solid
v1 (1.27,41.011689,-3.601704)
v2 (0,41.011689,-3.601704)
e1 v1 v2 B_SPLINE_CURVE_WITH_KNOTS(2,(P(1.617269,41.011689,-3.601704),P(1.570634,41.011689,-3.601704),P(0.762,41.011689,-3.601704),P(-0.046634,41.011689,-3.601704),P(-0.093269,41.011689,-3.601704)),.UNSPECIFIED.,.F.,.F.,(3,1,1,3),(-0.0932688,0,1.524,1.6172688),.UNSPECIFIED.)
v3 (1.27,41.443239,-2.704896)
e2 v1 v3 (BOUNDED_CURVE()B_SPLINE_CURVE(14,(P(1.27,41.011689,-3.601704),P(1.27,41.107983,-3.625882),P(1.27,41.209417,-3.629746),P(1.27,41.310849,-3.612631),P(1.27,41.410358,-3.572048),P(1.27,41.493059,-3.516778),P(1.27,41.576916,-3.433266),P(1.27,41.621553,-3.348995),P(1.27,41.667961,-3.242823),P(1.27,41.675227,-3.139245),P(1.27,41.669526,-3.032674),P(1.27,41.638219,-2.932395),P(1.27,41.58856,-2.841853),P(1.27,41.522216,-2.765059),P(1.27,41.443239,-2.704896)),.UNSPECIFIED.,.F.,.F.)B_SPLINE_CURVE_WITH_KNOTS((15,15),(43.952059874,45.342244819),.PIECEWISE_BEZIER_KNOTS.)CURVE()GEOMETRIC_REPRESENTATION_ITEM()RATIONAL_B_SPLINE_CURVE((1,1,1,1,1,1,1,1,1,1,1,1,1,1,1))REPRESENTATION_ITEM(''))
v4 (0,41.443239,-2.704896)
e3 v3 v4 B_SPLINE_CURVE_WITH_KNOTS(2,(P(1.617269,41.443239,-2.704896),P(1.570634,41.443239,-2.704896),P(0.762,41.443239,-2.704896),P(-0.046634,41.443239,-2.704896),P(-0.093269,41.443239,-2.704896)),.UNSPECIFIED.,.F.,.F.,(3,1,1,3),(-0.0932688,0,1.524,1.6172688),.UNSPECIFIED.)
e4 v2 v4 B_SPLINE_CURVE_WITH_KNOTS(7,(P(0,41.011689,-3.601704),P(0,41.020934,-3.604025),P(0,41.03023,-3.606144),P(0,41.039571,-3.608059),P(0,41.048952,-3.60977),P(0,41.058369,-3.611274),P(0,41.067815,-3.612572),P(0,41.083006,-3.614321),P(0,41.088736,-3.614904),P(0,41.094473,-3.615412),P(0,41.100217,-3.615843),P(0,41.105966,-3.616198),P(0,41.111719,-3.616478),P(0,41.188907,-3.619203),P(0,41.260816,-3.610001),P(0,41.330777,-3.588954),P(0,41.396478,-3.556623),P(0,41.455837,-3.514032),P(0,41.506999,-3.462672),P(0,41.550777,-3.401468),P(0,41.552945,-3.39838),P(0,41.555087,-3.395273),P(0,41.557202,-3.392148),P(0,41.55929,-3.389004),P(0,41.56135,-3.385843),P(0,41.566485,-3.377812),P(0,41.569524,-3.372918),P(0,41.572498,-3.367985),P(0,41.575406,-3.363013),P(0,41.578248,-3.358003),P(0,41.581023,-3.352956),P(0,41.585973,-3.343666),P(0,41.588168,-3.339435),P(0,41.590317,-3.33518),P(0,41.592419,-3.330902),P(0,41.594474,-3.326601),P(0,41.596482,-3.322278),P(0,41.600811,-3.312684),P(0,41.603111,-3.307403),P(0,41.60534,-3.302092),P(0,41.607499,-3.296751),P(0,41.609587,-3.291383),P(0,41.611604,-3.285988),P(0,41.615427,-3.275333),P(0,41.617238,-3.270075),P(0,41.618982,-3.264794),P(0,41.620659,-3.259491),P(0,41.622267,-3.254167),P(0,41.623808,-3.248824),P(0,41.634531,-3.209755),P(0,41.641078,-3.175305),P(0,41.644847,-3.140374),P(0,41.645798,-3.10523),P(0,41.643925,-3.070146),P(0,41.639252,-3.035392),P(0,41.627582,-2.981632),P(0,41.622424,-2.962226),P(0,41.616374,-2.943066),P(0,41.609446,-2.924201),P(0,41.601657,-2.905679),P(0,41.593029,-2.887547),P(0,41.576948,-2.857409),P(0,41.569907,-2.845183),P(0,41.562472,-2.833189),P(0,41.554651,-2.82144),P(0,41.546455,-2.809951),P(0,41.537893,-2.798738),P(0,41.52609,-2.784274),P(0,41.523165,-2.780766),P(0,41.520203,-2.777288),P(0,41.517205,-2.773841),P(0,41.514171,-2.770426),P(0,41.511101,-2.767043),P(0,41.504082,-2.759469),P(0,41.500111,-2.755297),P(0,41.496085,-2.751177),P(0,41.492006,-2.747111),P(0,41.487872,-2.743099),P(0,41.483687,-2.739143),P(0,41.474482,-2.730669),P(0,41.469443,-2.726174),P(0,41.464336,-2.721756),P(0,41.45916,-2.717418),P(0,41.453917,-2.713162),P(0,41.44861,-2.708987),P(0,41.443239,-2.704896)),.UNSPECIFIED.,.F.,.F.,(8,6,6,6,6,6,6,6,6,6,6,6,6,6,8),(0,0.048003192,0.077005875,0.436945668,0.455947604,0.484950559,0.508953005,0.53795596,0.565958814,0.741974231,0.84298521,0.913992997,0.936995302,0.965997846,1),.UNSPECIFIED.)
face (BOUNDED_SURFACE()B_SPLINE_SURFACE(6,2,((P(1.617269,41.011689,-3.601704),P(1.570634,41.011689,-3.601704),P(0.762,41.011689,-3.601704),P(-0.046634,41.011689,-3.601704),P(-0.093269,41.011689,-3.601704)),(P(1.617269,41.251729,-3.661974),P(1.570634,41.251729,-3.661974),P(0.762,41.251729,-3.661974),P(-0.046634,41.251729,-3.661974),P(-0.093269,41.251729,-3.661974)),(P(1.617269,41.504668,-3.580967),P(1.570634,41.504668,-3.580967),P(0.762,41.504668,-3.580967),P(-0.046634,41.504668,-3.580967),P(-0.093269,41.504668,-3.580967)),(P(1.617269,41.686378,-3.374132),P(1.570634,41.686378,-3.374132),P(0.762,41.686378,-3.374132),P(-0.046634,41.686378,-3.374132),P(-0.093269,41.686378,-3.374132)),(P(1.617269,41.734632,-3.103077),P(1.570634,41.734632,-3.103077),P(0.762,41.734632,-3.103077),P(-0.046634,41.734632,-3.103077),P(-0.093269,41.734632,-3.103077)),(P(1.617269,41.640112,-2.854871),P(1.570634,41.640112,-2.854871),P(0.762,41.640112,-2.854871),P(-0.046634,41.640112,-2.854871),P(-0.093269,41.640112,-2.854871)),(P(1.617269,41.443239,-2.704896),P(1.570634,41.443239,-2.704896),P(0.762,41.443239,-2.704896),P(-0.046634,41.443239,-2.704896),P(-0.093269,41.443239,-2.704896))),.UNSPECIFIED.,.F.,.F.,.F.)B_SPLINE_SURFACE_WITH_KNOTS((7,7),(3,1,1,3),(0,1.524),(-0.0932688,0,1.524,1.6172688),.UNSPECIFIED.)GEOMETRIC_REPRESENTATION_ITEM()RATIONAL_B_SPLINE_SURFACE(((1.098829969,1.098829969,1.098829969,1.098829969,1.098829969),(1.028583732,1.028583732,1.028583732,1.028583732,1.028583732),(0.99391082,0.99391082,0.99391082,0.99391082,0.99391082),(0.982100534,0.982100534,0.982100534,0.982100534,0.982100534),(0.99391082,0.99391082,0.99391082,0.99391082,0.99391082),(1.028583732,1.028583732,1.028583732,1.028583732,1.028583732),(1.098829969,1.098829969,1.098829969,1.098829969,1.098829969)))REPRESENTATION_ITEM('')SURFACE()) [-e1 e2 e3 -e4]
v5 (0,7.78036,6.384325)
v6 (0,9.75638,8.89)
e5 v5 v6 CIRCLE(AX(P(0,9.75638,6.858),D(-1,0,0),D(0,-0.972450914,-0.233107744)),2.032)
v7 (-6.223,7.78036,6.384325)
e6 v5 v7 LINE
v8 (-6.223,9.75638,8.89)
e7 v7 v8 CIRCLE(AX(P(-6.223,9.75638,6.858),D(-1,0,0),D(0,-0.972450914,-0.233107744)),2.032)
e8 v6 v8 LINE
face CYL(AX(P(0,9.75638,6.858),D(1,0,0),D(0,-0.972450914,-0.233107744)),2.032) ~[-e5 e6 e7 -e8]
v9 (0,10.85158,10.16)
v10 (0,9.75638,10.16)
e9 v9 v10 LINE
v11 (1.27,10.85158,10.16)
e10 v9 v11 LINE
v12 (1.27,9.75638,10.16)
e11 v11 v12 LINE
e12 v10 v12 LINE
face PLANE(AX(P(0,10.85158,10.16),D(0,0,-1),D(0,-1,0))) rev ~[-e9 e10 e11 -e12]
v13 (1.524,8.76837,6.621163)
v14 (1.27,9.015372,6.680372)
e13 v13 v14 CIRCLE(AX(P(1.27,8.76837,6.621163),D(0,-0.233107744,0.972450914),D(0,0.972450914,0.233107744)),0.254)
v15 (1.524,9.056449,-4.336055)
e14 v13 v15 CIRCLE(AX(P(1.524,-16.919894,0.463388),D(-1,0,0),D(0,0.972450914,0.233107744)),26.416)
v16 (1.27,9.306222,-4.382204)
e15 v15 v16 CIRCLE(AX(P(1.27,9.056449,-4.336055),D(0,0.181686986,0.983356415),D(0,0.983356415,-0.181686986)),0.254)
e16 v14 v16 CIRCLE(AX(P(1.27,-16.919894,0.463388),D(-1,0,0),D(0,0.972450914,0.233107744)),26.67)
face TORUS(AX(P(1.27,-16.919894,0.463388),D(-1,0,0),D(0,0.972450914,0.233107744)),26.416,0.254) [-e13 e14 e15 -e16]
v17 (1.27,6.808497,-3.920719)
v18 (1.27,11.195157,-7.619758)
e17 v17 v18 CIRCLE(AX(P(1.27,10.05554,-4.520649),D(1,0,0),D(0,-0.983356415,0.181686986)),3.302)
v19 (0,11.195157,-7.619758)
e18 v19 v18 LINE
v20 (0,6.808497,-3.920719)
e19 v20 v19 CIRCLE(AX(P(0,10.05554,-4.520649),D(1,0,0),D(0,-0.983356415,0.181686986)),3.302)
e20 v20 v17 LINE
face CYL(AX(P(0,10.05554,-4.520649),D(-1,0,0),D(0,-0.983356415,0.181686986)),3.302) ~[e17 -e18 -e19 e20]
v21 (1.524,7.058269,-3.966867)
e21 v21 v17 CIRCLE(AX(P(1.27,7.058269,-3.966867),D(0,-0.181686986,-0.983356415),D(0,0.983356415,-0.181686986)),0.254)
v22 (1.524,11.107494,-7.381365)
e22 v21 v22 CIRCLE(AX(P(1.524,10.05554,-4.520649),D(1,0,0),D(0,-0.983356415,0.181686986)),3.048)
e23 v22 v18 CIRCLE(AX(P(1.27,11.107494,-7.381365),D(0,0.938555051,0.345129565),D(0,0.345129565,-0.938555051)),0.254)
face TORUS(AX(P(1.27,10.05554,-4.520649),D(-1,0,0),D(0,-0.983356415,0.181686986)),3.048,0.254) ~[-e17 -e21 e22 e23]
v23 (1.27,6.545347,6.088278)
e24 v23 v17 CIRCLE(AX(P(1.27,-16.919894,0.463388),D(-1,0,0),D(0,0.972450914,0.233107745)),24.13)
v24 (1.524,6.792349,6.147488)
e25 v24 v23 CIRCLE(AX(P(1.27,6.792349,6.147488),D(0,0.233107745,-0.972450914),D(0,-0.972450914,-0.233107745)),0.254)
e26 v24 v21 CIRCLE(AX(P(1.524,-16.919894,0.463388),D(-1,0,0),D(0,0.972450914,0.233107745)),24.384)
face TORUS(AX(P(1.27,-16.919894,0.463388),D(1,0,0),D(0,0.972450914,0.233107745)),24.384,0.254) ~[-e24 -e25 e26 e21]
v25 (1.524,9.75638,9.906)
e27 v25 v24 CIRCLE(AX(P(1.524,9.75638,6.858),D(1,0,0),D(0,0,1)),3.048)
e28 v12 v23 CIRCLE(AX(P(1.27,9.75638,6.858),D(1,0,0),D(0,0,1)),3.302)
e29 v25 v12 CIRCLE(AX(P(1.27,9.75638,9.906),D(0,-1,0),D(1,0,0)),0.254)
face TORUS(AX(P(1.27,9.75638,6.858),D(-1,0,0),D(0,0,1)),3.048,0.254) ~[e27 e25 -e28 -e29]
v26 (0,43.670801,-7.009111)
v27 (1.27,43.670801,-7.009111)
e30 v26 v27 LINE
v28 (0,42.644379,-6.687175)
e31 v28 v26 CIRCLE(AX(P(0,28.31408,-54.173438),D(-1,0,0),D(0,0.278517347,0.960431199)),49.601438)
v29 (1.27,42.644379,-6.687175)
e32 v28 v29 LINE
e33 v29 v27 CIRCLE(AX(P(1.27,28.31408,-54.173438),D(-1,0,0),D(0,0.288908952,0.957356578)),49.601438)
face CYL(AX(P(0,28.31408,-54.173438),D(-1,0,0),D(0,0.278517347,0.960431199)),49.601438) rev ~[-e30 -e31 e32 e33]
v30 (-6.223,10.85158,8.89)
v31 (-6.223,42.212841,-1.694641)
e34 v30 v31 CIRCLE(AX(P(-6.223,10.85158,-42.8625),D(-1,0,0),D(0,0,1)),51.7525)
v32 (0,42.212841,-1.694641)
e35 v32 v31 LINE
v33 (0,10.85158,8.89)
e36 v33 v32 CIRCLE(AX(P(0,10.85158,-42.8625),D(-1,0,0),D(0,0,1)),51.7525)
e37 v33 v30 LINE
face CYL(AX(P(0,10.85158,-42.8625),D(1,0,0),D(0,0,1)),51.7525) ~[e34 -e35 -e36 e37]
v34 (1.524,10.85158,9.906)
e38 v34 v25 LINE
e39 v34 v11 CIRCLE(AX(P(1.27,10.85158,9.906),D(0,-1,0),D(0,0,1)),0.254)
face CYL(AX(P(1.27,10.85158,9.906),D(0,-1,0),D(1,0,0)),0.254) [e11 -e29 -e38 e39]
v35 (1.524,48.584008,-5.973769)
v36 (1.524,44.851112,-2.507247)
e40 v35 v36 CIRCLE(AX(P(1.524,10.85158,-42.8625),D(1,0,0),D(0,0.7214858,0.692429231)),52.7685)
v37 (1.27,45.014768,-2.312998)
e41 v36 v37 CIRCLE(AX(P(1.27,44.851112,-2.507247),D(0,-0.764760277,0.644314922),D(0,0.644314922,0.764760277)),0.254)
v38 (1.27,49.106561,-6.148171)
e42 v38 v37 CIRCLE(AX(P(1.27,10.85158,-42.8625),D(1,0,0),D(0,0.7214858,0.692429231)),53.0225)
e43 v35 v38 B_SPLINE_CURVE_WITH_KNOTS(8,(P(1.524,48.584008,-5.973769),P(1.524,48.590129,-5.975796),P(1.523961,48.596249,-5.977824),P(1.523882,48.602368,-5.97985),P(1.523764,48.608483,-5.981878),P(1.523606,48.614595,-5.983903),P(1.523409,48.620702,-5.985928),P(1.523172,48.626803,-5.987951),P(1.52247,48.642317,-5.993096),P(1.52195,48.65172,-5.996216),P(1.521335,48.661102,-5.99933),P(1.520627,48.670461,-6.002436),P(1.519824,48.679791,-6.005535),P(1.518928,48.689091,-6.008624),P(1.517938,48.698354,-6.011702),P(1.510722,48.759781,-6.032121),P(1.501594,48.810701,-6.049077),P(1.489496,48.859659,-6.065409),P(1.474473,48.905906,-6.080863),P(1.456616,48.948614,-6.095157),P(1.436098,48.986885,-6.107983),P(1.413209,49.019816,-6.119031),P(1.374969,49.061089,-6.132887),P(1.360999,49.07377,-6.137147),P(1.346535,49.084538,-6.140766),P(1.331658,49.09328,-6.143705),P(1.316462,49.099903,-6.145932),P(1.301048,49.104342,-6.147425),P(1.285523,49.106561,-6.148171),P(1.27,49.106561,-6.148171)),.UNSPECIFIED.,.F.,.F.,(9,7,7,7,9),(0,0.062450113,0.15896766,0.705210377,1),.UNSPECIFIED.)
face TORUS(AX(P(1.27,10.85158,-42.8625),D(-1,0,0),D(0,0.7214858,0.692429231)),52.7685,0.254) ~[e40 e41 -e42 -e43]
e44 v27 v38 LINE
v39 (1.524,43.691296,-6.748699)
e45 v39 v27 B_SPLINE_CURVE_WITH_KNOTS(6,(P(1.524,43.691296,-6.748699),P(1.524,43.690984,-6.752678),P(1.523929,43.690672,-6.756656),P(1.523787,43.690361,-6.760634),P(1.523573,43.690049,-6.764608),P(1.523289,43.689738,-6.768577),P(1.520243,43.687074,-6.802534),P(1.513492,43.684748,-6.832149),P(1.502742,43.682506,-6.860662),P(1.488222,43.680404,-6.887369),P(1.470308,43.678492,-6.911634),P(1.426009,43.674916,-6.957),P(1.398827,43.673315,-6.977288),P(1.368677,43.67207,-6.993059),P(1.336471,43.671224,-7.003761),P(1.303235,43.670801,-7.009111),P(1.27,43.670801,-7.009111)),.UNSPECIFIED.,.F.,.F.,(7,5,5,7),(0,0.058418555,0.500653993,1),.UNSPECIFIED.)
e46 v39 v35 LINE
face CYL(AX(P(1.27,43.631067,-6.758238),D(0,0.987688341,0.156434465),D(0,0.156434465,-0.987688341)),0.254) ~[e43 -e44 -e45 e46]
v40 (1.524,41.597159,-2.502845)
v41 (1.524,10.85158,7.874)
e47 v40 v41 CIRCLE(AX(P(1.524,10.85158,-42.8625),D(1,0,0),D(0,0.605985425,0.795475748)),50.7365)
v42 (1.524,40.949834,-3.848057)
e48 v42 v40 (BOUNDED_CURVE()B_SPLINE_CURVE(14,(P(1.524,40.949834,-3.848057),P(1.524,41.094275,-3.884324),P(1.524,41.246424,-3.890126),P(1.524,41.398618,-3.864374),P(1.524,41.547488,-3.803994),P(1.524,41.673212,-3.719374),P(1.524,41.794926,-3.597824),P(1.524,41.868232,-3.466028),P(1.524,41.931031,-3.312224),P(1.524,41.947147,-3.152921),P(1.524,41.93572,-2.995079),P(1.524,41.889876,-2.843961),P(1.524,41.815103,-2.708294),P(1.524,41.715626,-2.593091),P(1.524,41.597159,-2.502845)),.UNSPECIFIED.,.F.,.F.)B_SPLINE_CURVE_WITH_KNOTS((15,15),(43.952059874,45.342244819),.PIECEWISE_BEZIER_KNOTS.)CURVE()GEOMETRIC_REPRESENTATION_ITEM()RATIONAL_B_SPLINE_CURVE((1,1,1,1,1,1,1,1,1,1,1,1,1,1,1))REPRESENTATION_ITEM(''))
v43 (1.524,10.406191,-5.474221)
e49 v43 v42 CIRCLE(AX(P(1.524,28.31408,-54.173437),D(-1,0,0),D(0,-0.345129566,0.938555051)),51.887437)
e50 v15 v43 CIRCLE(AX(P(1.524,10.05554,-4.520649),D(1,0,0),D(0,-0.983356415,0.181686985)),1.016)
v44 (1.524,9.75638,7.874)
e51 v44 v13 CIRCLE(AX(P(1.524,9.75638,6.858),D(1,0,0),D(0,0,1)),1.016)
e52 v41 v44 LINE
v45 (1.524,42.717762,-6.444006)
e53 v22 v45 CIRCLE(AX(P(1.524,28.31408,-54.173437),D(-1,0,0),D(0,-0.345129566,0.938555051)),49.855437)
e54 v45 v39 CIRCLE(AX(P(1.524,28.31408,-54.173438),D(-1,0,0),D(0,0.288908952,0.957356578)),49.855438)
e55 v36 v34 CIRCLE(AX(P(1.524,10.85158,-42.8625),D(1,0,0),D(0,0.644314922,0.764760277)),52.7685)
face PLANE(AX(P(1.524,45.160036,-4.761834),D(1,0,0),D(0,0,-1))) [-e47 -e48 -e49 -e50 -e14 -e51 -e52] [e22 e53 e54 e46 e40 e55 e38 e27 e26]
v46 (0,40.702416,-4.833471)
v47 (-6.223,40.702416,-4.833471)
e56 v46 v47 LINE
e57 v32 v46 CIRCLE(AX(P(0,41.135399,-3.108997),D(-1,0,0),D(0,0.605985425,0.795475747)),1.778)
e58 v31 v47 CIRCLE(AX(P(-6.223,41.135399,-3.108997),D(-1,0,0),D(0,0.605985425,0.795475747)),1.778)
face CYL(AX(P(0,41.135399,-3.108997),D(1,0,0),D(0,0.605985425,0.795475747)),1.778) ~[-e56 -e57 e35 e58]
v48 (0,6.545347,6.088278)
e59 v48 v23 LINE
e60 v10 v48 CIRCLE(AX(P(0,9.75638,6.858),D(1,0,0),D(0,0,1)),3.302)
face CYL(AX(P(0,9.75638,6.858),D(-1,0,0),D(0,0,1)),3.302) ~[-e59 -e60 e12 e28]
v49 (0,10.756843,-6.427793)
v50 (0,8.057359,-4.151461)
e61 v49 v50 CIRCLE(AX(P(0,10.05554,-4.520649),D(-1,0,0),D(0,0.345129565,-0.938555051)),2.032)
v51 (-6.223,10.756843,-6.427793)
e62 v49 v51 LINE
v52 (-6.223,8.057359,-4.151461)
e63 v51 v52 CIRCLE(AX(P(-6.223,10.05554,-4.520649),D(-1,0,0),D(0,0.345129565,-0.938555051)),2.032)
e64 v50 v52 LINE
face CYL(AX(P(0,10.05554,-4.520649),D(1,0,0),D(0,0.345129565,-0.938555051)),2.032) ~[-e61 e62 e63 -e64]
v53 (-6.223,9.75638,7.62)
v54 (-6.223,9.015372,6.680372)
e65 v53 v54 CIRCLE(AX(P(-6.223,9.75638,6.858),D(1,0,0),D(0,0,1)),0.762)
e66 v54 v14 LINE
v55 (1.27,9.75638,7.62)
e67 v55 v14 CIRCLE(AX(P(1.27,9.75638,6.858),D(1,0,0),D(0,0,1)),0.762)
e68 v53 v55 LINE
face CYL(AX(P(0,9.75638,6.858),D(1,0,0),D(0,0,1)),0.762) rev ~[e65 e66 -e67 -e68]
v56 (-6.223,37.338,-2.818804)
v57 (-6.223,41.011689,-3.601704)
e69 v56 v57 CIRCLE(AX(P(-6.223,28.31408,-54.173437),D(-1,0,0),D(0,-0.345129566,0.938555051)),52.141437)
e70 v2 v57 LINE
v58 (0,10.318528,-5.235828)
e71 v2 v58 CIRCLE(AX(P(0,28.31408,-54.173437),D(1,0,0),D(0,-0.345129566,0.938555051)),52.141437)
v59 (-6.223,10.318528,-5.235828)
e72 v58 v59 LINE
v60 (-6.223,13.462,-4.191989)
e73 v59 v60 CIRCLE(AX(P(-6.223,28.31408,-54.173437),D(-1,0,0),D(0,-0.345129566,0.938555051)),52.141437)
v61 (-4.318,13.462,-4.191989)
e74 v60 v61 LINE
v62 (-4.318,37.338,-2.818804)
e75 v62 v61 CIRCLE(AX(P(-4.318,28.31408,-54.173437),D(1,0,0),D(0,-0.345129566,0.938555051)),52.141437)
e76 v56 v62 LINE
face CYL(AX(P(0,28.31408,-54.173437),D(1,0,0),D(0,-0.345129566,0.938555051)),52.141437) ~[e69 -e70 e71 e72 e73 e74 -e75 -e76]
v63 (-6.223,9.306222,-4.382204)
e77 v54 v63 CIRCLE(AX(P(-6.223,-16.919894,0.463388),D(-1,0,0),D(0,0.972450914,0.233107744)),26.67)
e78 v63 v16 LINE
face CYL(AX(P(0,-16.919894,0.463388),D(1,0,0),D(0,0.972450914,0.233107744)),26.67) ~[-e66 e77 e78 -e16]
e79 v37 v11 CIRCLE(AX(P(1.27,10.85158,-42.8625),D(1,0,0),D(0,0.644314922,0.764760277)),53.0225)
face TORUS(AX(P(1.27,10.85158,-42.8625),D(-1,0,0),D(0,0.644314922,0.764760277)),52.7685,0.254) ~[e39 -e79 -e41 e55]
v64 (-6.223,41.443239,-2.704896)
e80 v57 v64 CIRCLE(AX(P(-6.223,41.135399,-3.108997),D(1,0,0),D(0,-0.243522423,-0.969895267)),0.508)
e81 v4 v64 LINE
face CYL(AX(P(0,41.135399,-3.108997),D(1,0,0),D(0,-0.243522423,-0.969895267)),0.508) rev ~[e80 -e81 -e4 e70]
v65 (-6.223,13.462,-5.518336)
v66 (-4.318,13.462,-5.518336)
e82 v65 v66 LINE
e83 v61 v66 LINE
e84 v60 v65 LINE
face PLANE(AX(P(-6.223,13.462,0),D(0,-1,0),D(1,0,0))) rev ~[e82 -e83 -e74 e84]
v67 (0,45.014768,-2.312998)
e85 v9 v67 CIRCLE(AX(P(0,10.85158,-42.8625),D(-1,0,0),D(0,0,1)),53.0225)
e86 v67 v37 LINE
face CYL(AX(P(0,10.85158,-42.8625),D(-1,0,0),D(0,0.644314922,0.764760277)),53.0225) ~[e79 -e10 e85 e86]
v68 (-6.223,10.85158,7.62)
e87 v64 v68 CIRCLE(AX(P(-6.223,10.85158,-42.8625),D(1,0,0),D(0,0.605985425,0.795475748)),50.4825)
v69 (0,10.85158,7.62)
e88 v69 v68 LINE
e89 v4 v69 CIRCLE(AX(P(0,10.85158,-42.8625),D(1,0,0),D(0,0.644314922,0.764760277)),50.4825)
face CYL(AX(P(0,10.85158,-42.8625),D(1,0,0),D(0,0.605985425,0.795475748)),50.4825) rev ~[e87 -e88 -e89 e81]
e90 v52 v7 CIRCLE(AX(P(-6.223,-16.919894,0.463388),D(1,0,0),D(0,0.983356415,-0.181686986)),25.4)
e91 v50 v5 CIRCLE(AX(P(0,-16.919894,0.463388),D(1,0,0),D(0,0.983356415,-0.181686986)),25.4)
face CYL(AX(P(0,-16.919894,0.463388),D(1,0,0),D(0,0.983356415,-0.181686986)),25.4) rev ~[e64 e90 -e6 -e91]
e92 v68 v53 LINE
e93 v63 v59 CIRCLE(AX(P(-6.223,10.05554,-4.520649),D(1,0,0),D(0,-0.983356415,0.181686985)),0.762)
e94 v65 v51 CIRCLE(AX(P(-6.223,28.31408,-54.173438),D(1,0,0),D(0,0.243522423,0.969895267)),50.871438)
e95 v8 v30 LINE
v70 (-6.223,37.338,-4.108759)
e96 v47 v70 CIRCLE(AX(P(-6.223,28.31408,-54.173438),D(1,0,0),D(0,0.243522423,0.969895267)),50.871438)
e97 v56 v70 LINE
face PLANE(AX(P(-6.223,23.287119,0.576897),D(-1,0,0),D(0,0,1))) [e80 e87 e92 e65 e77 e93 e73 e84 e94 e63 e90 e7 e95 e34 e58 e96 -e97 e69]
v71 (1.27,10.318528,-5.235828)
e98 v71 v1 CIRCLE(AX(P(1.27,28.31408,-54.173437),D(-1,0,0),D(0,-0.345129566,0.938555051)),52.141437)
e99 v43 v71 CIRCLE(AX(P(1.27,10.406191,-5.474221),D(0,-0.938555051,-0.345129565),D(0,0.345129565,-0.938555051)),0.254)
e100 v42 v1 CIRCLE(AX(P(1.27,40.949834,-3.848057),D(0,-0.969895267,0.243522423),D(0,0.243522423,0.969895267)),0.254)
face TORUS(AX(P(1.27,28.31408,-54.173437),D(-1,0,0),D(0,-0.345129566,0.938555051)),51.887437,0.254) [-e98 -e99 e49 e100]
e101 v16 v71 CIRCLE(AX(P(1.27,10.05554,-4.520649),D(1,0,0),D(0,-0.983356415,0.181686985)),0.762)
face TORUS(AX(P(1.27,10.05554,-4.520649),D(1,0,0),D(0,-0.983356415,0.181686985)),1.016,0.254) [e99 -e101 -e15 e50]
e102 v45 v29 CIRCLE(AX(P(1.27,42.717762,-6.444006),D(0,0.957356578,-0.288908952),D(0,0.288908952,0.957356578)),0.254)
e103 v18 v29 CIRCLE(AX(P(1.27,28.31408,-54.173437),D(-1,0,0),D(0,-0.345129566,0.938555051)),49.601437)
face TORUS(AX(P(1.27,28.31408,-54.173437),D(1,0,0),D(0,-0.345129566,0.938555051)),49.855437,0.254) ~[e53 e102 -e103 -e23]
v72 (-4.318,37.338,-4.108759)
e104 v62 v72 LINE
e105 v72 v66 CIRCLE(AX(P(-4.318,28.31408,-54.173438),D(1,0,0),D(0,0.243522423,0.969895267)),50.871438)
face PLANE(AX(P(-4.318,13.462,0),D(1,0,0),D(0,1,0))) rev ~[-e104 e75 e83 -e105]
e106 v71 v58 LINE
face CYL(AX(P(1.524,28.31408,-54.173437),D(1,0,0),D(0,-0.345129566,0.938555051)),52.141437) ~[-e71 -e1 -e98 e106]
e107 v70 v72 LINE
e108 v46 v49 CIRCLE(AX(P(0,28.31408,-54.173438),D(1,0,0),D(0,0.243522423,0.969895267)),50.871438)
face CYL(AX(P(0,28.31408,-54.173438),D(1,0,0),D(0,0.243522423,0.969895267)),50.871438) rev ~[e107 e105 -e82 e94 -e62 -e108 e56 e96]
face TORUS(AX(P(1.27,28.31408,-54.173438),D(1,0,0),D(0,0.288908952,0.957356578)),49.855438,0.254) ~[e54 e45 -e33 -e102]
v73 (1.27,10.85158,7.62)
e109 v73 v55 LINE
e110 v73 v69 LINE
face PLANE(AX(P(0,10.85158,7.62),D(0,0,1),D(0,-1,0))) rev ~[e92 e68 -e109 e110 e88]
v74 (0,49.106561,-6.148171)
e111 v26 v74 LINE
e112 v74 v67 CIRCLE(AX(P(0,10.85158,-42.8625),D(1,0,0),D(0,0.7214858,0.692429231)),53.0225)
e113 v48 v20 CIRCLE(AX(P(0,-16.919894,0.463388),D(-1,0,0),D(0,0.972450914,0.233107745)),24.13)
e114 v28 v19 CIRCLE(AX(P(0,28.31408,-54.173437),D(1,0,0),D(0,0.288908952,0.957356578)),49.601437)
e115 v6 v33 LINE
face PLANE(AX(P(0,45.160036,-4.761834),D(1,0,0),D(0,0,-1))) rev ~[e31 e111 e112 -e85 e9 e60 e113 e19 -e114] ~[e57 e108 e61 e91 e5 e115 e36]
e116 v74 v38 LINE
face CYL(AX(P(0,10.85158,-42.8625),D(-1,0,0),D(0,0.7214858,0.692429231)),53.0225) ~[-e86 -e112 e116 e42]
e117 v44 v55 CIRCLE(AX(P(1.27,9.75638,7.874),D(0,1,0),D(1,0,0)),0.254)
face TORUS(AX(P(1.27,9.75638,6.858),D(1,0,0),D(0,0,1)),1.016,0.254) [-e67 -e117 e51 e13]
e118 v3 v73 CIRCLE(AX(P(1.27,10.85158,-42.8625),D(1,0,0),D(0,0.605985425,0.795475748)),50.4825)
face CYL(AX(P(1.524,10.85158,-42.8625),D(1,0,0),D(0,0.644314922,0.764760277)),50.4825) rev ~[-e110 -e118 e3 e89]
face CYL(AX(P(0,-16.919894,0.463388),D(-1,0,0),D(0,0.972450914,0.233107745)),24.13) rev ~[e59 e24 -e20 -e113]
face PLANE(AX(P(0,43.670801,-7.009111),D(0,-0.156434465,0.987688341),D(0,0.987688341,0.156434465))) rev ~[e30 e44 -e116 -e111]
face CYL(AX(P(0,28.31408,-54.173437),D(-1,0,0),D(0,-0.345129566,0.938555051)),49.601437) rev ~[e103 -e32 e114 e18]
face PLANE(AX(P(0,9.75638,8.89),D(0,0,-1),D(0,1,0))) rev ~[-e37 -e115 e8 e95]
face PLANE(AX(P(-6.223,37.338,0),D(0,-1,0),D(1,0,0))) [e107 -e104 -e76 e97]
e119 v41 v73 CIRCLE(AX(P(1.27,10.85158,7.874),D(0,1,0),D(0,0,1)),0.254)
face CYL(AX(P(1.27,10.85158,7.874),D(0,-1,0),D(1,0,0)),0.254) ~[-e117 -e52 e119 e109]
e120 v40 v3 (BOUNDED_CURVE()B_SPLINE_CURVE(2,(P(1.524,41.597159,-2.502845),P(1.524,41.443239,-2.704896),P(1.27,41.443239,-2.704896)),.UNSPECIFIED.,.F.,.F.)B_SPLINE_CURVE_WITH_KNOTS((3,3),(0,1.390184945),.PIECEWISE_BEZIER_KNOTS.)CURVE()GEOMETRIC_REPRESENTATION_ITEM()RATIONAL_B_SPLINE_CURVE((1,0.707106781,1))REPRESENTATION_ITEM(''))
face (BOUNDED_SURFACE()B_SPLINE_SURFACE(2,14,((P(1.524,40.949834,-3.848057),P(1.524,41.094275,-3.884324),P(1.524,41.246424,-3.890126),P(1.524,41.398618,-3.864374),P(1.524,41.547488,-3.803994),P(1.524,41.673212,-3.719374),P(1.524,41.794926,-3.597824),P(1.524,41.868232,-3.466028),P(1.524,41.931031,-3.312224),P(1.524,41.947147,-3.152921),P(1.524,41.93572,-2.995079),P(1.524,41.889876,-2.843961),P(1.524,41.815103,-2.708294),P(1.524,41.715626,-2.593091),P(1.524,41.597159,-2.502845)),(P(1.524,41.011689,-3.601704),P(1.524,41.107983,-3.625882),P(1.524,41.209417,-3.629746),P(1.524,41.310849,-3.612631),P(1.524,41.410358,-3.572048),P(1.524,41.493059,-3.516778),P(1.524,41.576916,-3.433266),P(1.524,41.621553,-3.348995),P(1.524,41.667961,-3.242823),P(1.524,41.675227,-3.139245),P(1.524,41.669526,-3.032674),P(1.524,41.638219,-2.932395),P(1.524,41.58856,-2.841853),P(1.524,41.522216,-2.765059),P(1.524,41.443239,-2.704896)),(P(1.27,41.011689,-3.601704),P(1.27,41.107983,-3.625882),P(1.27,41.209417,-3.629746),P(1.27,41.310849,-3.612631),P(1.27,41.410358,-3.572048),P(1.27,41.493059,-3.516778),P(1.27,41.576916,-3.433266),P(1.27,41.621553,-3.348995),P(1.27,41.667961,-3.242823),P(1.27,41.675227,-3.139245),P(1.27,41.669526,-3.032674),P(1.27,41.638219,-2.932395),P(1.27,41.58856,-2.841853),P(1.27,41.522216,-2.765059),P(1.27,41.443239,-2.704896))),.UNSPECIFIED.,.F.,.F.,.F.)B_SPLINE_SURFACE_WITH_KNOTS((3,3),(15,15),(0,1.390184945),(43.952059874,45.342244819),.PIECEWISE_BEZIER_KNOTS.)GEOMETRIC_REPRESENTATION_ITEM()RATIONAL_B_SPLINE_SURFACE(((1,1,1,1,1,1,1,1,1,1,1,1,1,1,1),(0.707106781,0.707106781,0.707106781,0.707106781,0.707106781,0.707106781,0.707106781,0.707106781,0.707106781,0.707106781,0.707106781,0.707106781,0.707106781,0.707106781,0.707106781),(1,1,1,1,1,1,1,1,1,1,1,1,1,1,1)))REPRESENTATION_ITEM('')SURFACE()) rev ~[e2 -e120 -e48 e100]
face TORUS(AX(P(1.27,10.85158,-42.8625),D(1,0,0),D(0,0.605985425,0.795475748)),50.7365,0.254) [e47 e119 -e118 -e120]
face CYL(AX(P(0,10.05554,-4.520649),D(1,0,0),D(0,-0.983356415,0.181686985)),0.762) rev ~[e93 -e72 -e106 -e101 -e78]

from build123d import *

# Parameters (mm, degrees)
BOSS_EXTRUDE1_DEPTH         = 1.524
KES_EKSTR_ZYON1_DEPTH       = 2.54
RADYUS1_R                   = 0.508
Y_KSEKLIK_EKSTR_ZYON1_DEPTH = 6.223
Y_KSEKLIK_EKSTR_ZYON2_START = -1.524
Y_KSEKLIK_EKSTR_ZYON2_DEPTH = 1.524
IZIM5_W                     = 1.905
IZIM5_H                     = 23.876
KES_EKSTR_ZYON2_DEPTH       = 9.779
RADYUS2_R                   = 0.254


with BuildPart() as part:
    # Sketch2 → Boss-Extrude1 (new body)
    with BuildSketch(Plane(origin=(0, 0, 0), x_dir=(0, 0, -1), z_dir=(1, 0, 0))):
        with BuildLine():
            Line((-10.16, 10.851579944), (-10.16, 9.756379827))
            ThreePointArc((-10.16, 9.756379827), (-8.902698353, 7.16361824), (-6.088278228, 6.54534691))
            ThreePointArc((-6.088278228, 6.54534691), (-1.097578785, 7.201770952), (3.920718614, 6.808496661))
            ThreePointArc((3.920718614, 6.808496661), (7.044965017, 7.926917254), (7.619757818, 11.195157369))
            ThreePointArc((7.619757818, 11.195157369), (4.593793799, 26.843864795), (6.687175028, 42.644379261))
            ThreePointArc((6.687175028, 42.644379261), (5.465660141, 45.611386582), (2.312998216, 45.014767901))
            ThreePointArc((2.312998216, 45.014767901), (-6.944233805, 29.036045126), (-10.16, 10.851579944))
        make_face()
    extrude(amount=BOSS_EXTRUDE1_DEPTH)

    # Sketch3 → Kes-Ekstrüzyon1 (cut)
    with BuildSketch(Plane(origin=(1.524, 0, 0), x_dir=(0, 0, -1), z_dir=(1, 0, 0))):
        with BuildLine():
            Line((-7.62, 10.851579944), (-7.62, 9.756379827))
            ThreePointArc((-7.62, 9.756379827), (-7.329853466, 9.15805023), (-6.680371899, 9.015372231))
            ThreePointArc((-6.680371899, 9.015372231), (-1.164335672, 9.74089354), (4.382203558, 9.306221955))
            ThreePointArc((4.382203558, 9.306221955), (5.103183497, 9.564319015), (5.23582799, 10.318528273))
            ThreePointArc((5.23582799, 10.318528273), (2.05490982, 26.768577734), (4.25548932, 43.378207999))
            ThreePointArc((4.25548932, 43.378207999), (-4.558282485, 28.164933022), (-7.62, 10.851579944))
        make_face()
    extrude(amount=-KES_EKSTR_ZYON1_DEPTH, mode=Mode.SUBTRACT)

    # Radyus1
    radyus1_edges = [part.edges().sort_by_distance(p)[0] for p in [
        (0.762, 43.378207999, -4.25548932),
    ]]
    fillet(radyus1_edges, radius=RADYUS1_R)

    # Çizim3 → Yükseklik-Ekstrüzyon1 (add)
    with BuildSketch(Plane.ZY):
        with BuildLine():
            Line((8.89, 9.756379827), (8.89, 10.851579944))
            ThreePointArc((8.89, 10.851579944), (6.172491894, 27.401227257), (-1.694641367, 42.212840631))
            ThreePointArc((-1.694641367, 42.212840631), (-3.87996363, 42.737551733), (-4.833471032, 40.702415677))
            ThreePointArc((-4.833471032, 40.702415677), (-3.373946338, 25.609481831), (-6.427792904, 10.756842821))
            ThreePointArc((-6.427792904, 10.756842821), (-6.074074257, 8.745618135), (-4.151461086, 8.057359308))
            ThreePointArc((-4.151461086, 8.057359308), (1.130957229, 8.471332246), (6.384325063, 7.78035957))
            ThreePointArc((6.384325063, 7.78035957), (8.116275909, 8.160834235), (8.89, 9.756379827))
        make_face()
        with BuildLine():
            Line((7.62, 10.851579944), (7.62, 9.756379827))
            ThreePointArc((7.62, 9.756379827), (7.329853466, 9.15805023), (6.680371899, 9.015372231))
            ThreePointArc((6.680371899, 9.015372231), (1.164335672, 9.74089354), (-4.382203558, 9.306221955))
            ThreePointArc((-4.382203558, 9.306221955), (-5.103183497, 9.564319015), (-5.23582799, 10.318528273))
            ThreePointArc((-5.23582799, 10.318528273), (-2.10574247, 25.541961828), (-3.601704042, 41.011689155))
            ThreePointArc((-3.601704042, 41.011689155), (-3.329273356, 41.593156599), (-2.704895567, 41.443239142))
            ThreePointArc((-2.704895567, 41.443239142), (4.96917921, 26.995100943), (7.62, 10.851579944))
        make_face(mode=Mode.SUBTRACT)
    extrude(amount=Y_KSEKLIK_EKSTR_ZYON1_DEPTH)

    # Sketch5 → Yükseklik-Ekstrüzyon2 (add)
    with BuildSketch(Plane(origin=(1.524, 0, 0), x_dir=(0, 0, -1), z_dir=(1, 0, 0)).offset(Y_KSEKLIK_EKSTR_ZYON2_START)):
        with BuildLine():
            Line((7.009110806, 43.67080126), (6.148171078, 49.106560771))
            ThreePointArc((6.148171078, 49.106560771), (3.588810081, 46.474083877), (1.217761815, 43.67080126))
            Line((1.217761815, 43.67080126), (6.534669415, 42.12894069))
            ThreePointArc((6.534669415, 42.12894069), (6.765621389, 42.901799905), (7.009110806, 43.67080126))
        make_face()
    extrude(amount=Y_KSEKLIK_EKSTR_ZYON2_DEPTH)

    # Çizim5 → Kes-Ekstrüzyon2 (cut)
    with BuildSketch(Plane.XY):
        with Locations((-5.2705, 25.4)):
            Rectangle(IZIM5_W, IZIM5_H)
    extrude(amount=-KES_EKSTR_ZYON2_DEPTH, mode=Mode.SUBTRACT)

    # Radyus2
    radyus2_edges = [part.edges().sort_by_distance(p)[0] for p in [
        (1.524, 31.644607634, 5.912857567),
        (1.524, 10.303979886, 10.16),
        (1.524, 7.16361824, 8.902698353),
        (1.524, 7.201770952, 1.097578785),
        (1.524, 7.926917254, -7.044965017),
        (1.524, 9.74089354, 1.164335672),
        (1.524, 10.303979886, 7.62),
        (1.524, 9.15805023, 7.329853466),
        (1.524, 9.564319015, -5.103183497),
        (1.524, 27.381577524, -4.580766254),
        (1.524, 26.995100943, 4.96917921),
        (1.524, 25.541961828, -2.10574247),
        (1.524, 41.593156599, -3.329273357),
        (1.524, 46.388681016, -6.578640942),
    ]]
    fillet(radyus2_edges, radius=RADYUS2_R)


solid = part.part
